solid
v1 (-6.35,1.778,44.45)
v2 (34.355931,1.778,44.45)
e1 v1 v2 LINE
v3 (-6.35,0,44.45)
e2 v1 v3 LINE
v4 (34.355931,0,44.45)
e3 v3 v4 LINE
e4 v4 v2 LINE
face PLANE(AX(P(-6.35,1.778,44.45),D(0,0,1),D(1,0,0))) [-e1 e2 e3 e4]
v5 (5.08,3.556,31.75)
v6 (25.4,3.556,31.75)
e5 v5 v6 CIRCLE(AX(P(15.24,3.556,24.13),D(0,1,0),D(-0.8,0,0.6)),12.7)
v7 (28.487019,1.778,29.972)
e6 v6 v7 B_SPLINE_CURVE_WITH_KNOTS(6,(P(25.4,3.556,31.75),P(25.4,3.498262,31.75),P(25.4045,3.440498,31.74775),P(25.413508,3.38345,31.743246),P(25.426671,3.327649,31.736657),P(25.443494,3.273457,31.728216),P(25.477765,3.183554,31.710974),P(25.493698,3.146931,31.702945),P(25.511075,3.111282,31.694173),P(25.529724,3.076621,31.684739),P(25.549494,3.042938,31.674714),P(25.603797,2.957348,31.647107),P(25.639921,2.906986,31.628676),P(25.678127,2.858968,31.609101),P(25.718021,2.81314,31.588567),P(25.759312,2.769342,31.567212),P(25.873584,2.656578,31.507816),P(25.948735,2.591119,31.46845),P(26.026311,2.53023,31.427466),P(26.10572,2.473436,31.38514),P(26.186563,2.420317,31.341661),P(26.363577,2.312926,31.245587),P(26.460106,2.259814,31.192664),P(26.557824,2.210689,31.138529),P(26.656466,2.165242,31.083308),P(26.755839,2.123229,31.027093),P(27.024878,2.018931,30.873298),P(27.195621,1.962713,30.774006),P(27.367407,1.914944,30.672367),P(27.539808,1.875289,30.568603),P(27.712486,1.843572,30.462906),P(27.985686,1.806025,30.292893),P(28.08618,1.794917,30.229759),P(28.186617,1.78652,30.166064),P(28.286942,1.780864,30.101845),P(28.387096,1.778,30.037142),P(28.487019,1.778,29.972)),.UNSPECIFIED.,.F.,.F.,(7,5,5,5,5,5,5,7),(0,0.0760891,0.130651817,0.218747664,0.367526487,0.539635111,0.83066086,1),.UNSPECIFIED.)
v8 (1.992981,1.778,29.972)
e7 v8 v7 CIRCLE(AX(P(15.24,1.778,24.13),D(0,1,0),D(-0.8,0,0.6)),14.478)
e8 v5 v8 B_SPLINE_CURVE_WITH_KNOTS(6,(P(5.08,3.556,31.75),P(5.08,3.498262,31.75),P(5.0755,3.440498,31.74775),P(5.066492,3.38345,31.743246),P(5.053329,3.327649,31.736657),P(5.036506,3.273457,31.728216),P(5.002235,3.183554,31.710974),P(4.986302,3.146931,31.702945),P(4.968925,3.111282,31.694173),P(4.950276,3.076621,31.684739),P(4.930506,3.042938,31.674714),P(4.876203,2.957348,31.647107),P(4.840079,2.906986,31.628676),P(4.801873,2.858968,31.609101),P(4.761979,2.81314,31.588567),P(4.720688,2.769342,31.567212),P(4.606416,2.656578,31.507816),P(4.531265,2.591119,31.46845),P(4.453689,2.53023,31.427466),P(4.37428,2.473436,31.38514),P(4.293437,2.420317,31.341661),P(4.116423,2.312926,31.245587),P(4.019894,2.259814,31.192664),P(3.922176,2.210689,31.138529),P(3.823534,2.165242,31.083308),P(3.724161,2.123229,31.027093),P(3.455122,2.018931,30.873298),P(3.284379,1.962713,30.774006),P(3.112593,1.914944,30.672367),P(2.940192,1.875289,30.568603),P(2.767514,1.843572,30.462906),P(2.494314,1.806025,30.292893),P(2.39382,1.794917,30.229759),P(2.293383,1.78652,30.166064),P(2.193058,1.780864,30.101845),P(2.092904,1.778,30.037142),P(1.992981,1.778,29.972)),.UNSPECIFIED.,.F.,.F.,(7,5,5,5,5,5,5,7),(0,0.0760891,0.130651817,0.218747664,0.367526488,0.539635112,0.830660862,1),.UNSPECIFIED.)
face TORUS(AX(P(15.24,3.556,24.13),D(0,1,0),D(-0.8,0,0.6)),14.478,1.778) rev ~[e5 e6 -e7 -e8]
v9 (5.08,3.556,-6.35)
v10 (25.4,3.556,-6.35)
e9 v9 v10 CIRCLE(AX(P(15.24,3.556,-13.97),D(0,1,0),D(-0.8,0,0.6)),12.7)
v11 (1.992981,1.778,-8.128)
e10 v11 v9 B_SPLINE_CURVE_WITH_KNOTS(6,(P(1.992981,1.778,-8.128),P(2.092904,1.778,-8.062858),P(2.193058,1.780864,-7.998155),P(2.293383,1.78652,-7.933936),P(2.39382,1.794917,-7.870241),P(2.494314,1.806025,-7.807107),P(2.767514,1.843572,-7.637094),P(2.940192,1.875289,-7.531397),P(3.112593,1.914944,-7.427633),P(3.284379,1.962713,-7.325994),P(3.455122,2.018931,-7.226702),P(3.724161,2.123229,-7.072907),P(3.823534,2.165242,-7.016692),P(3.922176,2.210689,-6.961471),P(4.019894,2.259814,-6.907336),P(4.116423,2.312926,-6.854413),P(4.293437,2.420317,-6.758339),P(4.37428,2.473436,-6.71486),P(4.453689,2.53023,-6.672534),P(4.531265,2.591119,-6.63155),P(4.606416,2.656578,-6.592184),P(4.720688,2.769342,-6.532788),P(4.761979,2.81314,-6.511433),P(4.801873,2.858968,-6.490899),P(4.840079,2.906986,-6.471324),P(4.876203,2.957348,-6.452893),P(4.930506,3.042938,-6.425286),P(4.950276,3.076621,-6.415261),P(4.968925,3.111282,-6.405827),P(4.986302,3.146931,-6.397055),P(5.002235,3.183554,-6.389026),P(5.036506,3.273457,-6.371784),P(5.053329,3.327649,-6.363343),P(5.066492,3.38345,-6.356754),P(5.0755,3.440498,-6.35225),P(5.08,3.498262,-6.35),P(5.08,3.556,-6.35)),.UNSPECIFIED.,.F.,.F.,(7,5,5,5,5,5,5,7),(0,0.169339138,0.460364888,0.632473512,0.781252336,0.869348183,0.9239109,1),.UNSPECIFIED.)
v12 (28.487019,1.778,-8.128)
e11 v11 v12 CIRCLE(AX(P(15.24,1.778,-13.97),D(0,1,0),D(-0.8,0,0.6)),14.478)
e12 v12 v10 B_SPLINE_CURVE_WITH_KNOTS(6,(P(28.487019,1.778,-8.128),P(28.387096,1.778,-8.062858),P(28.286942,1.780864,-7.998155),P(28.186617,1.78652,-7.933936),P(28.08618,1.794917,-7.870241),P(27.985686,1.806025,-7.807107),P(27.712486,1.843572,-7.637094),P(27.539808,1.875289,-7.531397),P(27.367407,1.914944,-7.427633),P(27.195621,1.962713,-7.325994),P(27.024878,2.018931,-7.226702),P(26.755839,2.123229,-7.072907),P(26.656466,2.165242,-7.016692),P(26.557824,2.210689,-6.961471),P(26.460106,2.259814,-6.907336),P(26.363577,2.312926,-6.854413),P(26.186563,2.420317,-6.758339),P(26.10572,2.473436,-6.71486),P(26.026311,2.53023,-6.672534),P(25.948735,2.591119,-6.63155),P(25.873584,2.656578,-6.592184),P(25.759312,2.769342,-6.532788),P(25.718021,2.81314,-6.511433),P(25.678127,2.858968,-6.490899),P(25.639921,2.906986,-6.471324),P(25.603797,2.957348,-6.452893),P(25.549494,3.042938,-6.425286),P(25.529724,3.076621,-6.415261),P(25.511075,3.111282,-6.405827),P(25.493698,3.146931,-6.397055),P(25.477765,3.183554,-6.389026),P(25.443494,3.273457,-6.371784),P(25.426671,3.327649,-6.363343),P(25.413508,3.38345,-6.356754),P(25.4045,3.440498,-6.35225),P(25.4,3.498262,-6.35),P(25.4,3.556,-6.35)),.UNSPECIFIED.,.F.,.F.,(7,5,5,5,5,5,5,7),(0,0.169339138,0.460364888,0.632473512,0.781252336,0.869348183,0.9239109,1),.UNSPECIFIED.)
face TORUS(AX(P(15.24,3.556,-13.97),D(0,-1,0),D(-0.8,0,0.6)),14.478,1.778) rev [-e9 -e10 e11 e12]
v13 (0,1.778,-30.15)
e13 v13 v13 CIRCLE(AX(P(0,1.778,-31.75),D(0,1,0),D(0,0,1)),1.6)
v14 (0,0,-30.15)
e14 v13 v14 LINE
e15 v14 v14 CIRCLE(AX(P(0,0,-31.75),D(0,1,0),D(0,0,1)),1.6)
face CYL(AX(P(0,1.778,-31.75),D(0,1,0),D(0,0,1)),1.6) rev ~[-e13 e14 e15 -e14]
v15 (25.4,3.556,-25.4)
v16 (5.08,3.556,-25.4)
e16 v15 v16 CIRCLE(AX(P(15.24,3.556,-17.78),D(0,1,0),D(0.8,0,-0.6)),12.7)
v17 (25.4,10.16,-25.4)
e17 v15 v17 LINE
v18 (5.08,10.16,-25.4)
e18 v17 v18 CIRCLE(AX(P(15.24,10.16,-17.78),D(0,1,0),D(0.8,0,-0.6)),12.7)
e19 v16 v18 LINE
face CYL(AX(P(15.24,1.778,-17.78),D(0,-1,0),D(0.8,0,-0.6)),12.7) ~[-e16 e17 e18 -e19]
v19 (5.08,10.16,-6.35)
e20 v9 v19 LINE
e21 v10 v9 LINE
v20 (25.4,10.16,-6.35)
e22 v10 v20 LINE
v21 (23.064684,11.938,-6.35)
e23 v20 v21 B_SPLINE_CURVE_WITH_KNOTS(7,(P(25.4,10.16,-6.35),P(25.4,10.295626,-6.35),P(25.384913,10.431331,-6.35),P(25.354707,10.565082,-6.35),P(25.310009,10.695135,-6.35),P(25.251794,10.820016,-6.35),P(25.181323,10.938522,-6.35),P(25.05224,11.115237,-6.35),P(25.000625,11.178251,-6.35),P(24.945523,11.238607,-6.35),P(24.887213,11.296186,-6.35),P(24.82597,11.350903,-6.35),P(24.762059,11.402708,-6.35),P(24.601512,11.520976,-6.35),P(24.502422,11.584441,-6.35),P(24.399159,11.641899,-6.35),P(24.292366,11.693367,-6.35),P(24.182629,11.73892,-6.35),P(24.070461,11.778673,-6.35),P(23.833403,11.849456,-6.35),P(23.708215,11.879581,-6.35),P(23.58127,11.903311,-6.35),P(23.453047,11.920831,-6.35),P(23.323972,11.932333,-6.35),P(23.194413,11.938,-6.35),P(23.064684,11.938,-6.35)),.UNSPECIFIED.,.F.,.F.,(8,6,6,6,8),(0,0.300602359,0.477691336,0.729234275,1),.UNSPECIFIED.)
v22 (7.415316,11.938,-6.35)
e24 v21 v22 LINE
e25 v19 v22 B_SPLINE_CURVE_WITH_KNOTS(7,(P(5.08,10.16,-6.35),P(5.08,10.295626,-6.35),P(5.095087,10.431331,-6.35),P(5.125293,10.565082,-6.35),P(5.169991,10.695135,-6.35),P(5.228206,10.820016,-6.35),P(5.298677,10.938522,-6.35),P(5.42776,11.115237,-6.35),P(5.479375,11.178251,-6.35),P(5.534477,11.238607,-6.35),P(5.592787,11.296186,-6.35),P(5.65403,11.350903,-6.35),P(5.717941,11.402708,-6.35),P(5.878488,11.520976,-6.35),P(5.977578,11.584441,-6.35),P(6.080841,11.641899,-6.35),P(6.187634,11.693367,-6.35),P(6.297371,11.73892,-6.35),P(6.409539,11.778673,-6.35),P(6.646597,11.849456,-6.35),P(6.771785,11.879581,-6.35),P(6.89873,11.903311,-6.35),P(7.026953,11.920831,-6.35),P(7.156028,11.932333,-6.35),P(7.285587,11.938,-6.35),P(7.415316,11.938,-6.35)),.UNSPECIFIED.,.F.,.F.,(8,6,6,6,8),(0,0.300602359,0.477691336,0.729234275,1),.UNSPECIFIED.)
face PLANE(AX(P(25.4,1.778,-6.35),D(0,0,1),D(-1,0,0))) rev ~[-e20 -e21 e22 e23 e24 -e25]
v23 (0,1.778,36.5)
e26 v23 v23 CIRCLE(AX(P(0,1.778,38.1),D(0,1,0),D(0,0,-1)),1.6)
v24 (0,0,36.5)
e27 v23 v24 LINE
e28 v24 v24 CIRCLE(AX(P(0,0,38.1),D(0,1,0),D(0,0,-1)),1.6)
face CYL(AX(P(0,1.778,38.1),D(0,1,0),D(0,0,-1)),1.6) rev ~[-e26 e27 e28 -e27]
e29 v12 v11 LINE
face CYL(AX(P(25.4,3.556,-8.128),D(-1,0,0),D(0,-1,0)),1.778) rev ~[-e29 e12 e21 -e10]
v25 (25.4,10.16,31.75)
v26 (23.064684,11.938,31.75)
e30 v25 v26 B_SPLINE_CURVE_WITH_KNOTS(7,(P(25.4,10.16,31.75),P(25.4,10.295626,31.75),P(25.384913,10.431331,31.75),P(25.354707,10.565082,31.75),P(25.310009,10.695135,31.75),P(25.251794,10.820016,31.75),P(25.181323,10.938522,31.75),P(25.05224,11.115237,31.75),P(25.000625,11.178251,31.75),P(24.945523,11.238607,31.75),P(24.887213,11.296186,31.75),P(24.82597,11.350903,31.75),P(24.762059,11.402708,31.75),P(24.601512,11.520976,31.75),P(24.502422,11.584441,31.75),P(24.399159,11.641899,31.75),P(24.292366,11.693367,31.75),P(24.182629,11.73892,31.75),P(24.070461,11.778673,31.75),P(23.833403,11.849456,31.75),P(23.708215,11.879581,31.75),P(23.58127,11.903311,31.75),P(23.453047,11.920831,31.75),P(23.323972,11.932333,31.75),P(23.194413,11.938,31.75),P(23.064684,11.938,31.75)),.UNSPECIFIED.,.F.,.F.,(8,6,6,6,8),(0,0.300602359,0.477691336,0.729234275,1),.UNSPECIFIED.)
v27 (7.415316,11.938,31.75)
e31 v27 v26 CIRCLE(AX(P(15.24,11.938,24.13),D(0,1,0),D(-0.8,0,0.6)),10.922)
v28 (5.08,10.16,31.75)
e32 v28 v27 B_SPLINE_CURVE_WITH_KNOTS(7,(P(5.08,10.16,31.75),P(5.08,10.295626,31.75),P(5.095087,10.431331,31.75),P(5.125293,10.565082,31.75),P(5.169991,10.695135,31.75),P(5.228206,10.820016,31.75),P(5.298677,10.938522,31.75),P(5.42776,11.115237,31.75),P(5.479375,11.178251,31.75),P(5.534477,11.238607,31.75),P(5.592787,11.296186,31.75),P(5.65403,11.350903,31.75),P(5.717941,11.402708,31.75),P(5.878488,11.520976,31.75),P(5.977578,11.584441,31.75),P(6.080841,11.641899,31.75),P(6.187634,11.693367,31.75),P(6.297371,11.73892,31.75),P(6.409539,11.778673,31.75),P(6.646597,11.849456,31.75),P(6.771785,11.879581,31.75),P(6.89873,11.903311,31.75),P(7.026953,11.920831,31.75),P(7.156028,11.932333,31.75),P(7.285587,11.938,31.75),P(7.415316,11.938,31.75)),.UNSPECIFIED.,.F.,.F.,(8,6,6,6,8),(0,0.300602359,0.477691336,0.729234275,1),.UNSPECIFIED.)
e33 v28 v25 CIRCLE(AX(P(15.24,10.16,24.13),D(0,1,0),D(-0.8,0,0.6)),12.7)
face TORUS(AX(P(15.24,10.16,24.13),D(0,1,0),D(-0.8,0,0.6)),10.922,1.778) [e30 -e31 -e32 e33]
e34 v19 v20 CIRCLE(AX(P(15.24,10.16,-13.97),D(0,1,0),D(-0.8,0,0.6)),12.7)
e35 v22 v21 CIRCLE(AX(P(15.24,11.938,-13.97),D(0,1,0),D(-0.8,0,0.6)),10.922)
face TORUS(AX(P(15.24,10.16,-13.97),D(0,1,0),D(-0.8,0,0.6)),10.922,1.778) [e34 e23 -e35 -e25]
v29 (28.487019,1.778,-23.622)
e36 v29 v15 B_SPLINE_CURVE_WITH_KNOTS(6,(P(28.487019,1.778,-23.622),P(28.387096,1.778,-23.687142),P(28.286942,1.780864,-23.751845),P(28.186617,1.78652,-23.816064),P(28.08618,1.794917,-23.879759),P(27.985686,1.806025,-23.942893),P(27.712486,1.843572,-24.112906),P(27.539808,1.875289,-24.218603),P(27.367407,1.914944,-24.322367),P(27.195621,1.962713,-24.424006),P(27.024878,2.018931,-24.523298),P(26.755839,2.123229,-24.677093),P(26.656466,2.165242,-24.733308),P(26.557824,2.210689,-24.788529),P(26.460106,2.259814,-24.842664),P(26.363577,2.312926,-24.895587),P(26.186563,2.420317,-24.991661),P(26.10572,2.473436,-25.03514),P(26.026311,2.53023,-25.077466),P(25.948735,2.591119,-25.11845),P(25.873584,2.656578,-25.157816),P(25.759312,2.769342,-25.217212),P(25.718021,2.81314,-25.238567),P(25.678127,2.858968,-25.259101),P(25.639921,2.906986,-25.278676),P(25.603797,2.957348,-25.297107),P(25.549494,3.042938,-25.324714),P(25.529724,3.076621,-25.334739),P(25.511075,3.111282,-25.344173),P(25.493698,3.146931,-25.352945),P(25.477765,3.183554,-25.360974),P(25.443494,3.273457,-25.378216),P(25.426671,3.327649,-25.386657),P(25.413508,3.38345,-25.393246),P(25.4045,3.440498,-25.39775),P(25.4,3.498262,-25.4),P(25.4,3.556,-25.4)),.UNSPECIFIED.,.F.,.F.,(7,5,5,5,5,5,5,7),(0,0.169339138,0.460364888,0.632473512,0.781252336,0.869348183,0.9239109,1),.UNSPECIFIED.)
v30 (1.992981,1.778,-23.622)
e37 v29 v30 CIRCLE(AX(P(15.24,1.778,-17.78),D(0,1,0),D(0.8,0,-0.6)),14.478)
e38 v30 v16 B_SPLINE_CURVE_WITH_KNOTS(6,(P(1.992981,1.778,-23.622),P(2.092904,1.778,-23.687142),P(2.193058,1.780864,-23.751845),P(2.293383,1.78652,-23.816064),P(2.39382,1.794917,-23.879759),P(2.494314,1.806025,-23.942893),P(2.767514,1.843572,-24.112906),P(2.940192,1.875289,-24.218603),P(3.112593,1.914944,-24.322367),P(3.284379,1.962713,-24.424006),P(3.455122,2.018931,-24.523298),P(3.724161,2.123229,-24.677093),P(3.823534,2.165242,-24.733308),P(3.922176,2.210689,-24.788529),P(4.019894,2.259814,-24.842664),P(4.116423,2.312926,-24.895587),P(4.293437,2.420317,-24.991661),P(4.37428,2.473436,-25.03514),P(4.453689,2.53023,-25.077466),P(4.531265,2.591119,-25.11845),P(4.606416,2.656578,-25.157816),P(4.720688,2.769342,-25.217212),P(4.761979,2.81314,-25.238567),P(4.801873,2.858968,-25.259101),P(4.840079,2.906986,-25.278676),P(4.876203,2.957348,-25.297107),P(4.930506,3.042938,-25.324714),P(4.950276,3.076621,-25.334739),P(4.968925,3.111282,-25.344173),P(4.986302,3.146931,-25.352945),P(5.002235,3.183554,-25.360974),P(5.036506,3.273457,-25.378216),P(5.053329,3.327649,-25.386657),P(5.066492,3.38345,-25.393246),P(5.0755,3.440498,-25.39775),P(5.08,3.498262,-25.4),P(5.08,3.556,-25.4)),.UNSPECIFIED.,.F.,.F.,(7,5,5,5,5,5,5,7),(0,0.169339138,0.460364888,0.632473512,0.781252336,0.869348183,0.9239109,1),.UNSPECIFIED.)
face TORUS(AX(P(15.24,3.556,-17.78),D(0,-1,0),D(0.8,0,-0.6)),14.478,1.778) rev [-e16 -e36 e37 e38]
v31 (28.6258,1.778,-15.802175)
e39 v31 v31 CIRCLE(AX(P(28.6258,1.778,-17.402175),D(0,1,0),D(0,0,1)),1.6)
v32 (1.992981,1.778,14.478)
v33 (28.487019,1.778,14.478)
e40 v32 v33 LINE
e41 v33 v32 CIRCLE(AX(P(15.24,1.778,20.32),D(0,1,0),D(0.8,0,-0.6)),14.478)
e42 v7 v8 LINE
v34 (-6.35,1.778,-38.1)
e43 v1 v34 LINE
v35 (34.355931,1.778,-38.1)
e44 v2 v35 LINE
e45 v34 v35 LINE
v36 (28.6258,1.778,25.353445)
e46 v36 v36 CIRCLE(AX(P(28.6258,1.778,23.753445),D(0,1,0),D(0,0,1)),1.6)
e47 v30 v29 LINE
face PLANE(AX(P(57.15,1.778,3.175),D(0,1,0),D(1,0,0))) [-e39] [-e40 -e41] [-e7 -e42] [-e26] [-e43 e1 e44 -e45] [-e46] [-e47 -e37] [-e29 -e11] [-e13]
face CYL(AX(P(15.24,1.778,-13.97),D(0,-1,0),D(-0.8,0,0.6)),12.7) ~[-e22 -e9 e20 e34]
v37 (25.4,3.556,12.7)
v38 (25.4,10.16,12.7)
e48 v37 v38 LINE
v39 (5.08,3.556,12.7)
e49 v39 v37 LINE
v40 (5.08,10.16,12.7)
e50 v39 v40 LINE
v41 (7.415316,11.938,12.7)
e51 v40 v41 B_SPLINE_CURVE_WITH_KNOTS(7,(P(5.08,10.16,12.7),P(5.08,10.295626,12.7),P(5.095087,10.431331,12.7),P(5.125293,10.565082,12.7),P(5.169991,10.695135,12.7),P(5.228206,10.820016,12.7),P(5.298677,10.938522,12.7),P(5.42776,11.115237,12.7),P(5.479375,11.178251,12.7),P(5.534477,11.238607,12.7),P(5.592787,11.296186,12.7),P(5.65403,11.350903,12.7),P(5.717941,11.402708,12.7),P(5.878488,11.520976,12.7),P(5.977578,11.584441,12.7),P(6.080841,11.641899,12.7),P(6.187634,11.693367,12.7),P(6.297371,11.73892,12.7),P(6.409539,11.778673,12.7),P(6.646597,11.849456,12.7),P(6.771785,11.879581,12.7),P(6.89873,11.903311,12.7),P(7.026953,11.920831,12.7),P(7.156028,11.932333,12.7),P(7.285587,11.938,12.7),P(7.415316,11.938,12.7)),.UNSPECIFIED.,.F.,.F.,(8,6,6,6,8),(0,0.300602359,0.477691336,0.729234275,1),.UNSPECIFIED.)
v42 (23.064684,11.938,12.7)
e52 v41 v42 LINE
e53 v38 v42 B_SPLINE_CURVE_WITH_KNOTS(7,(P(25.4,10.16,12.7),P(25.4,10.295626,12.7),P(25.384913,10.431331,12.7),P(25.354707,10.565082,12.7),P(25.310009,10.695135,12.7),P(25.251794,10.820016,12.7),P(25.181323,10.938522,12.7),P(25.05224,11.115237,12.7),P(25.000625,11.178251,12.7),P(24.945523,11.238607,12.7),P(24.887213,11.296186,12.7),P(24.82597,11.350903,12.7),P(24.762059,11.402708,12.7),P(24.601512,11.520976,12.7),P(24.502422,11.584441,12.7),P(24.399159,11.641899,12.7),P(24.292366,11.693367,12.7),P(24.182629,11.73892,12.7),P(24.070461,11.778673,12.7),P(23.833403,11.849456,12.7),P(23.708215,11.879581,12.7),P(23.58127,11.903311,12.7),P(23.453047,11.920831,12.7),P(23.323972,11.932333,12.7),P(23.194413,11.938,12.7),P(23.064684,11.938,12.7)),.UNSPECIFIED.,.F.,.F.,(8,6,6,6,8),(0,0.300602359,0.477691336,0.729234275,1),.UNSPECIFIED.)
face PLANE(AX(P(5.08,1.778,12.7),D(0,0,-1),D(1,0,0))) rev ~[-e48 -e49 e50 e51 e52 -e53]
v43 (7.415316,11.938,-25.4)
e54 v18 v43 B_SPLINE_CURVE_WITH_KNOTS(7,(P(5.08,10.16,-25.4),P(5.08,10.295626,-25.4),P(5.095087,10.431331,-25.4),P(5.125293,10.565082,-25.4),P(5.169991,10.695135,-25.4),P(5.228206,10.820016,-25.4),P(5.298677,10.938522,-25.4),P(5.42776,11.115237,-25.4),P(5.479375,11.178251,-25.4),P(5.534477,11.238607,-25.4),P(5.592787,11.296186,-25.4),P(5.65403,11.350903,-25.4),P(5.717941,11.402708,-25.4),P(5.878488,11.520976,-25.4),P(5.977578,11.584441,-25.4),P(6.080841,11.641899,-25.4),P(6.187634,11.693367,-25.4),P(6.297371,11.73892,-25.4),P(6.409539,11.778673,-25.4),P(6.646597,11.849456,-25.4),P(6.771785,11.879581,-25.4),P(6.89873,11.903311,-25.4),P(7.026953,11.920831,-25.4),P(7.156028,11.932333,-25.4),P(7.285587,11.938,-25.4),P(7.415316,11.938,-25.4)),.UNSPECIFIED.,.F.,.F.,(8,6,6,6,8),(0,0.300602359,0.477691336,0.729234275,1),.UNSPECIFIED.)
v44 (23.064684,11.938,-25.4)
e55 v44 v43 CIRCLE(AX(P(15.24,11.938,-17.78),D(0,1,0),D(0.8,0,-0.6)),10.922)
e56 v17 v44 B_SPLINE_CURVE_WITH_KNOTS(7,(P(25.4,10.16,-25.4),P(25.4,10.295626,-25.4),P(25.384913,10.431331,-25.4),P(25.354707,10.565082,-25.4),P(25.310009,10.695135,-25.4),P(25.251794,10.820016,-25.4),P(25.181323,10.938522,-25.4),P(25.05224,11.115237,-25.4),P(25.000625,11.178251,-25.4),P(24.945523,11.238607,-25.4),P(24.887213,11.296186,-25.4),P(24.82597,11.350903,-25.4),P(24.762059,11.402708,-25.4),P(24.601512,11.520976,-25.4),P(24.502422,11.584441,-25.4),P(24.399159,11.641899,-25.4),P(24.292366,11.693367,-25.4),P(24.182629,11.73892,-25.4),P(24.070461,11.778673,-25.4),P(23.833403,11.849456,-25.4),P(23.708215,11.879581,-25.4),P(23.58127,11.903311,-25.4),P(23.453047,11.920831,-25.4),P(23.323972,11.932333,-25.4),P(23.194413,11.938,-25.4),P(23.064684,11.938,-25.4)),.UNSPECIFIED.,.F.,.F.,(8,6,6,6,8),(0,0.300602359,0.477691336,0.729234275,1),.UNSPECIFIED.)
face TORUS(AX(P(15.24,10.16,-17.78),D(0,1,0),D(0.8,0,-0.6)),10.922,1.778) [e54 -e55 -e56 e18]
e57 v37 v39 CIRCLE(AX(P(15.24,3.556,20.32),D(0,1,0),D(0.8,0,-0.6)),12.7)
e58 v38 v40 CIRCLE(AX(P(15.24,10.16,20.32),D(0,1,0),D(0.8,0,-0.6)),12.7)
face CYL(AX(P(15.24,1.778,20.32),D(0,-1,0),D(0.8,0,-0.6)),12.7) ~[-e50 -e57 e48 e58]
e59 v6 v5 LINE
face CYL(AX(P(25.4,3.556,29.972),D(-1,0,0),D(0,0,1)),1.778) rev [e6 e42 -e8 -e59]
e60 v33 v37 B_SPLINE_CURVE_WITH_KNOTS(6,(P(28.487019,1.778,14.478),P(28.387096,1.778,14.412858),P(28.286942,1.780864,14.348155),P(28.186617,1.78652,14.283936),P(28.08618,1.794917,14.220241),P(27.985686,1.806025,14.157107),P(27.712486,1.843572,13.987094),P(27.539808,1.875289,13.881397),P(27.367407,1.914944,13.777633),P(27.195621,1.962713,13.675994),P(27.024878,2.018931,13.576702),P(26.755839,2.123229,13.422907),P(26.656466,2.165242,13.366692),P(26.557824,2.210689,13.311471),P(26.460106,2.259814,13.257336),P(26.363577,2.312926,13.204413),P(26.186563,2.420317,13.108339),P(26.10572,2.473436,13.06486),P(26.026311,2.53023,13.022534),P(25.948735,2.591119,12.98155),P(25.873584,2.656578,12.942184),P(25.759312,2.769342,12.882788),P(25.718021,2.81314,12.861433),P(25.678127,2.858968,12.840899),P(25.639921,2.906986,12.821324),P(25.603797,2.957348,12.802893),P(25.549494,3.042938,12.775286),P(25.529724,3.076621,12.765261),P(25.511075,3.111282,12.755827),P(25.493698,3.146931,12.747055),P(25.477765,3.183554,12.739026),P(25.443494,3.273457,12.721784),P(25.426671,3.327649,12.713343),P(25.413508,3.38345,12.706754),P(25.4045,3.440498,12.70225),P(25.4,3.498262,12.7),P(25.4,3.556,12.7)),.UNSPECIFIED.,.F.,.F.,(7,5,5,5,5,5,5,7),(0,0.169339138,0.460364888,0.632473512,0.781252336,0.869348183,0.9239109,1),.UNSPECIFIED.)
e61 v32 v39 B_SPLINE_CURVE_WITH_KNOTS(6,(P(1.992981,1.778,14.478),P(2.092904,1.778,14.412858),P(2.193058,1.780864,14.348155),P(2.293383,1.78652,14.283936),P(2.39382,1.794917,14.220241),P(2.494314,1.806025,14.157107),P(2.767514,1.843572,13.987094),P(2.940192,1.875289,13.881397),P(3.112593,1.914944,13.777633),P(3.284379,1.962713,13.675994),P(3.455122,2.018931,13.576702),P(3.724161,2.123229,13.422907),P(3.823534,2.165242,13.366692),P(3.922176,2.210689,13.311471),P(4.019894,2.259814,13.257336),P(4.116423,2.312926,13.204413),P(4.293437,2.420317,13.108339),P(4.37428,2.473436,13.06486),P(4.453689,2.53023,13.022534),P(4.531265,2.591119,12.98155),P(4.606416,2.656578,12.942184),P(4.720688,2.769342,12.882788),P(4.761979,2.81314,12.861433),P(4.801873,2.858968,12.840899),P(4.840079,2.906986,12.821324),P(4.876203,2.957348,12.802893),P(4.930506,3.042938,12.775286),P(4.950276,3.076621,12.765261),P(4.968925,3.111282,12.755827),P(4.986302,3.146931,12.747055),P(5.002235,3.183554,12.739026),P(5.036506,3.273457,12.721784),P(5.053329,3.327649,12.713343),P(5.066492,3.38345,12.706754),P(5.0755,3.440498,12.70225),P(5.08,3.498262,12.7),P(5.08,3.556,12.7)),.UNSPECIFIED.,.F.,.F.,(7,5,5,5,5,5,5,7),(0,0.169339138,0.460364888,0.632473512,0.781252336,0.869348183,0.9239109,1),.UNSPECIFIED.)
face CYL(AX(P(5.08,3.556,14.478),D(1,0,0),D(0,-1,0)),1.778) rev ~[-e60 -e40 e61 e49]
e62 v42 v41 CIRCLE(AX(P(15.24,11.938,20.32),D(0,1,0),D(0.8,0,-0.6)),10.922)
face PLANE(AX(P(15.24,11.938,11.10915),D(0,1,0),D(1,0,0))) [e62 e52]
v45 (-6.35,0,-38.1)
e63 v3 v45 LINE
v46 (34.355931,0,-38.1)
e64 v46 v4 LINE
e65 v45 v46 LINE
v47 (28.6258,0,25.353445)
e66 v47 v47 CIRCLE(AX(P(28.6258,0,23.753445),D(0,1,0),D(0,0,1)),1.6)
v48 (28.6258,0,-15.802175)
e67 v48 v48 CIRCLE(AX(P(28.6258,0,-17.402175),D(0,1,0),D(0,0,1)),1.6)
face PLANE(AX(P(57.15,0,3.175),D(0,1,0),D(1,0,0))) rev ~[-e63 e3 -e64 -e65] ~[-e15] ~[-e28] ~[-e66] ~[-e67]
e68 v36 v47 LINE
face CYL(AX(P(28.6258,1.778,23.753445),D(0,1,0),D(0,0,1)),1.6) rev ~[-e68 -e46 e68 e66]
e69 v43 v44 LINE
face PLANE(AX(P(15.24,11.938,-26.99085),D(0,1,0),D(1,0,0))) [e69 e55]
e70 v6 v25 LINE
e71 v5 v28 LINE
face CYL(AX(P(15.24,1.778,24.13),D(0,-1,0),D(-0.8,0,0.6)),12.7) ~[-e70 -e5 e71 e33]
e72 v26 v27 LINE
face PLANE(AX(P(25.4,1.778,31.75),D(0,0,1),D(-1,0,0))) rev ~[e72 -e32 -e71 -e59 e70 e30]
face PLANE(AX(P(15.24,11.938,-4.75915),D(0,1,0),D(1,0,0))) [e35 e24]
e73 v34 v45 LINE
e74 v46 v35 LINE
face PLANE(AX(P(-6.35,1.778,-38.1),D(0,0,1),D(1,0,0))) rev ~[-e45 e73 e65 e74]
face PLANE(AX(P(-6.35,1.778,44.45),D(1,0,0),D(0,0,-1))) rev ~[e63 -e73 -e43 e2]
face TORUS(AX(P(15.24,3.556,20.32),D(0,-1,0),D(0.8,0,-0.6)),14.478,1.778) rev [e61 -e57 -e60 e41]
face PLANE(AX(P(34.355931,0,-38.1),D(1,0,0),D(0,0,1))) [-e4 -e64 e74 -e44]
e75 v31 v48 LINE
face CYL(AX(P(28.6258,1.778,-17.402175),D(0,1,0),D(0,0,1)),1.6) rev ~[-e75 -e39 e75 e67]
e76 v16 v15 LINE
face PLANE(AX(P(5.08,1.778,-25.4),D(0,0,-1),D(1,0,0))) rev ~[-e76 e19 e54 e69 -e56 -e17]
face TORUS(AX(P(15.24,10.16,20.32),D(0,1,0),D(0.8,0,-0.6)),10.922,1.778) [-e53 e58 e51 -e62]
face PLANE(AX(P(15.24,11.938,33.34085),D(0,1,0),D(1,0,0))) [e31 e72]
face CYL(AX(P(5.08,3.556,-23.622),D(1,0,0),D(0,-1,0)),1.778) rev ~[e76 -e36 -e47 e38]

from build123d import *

# Parameters (mm, degrees)
SKETCH1_W            = 30.48
SKETCH1_H            = 31.75
BOSS_EXTRUDE1_DEPTH  = 1.778
BOSS_EXTRUDE2_DEPTH  = 10.16
SKETCH4_W            = 127
SKETCH4_H            = 82.55
SKETCH4_W_2          = 30.48
SKETCH4_H_2          = 31.75
BOSS_EXTRUDE3_DEPTH  = 1.778
LPATTERN1_COUNT      = 2
LPATTERN1_PITCH      = 83.82
LPATTERN1_COUNT_DIR2 = 2
LPATTERN1_PITCH_DIR2 = 38.1
BOSS_EXTRUDE4_DEPTH  = 10.16
FILLET2_R            = 1.778
FILLET3_R            = 1.778
SKETCH6_R            = 1.6
CUT_EXTRUDE1_DEPTH   = 129.978488912
SKETCH7_R            = 1.6
CUT_EXTRUDE2_DEPTH   = 129.978488912
SKETCH8_W            = 86.294069194
SKETCH8_H            = 82.55
CUT_EXTRUDE3_DEPTH   = 130.130712251


with BuildPart() as part:
    # Sketch1 → Boss-Extrude1 (new body)
    with BuildSketch(Plane(origin=(0, 0, 0), x_dir=(1, 0, 0), z_dir=(0, 1, 0))):
        with Locations((15.24, 15.875)):
            Rectangle(SKETCH1_W, SKETCH1_H)
    extrude(amount=BOSS_EXTRUDE1_DEPTH)

    # Sketch2 → Boss-Extrude2 (add)
    with BuildSketch(Plane(origin=(0, 1.778, 0), x_dir=(1, 0, 0), z_dir=(0, 1, 0))):
        with BuildLine():
            ThreePointArc((25.4, 25.4), (15.24, 30.48), (5.08, 25.4))
            Line((5.08, 25.4), (25.4, 25.4))
        make_face()
        with BuildLine():
            Line((25.4, 6.35), (5.08, 6.35))
            ThreePointArc((5.08, 6.35), (15.24, 1.27), (25.4, 6.35))
        make_face()
    boss_extrude2 = extrude(amount=BOSS_EXTRUDE2_DEPTH)

    # Sketch4 → Boss-Extrude3 (add)
    with BuildSketch(Plane(origin=(0, 1.778, 0), x_dir=(1, 0, 0), z_dir=(0, 1, 0))):
        with Locations((57.15, -3.175)):
            Rectangle(SKETCH4_W, SKETCH4_H)
        with Locations((15.24, 15.875)):
            Rectangle(SKETCH4_W_2, SKETCH4_H_2, mode=Mode.SUBTRACT)
    extrude(amount=-BOSS_EXTRUDE3_DEPTH)

    # LPattern1: Boss-Extrude2 2 × 2
    with Locations(*[(i * LPATTERN1_PITCH, 0, j * LPATTERN1_PITCH_DIR2) for i in range(LPATTERN1_COUNT) for j in range(LPATTERN1_COUNT_DIR2) if (i, j) != (0, 0)]):
        add(boss_extrude2)

    # Sketch5 → Boss-Extrude4 (add)
    with BuildSketch(Plane(origin=(0, 1.778, 0), x_dir=(1, 0, 0), z_dir=(0, 1, 0))):
        with BuildLine():
            ThreePointArc((47.625, -12.7), (42.545, -22.86), (47.625, -33.02))
            Line((47.625, -33.02), (47.625, -12.7))
        make_face()
        with BuildLine():
            Line((66.675, -12.7), (66.675, -33.02))
            ThreePointArc((66.675, -33.02), (71.755, -22.86), (66.675, -12.7))
        make_face()
    extrude(amount=BOSS_EXTRUDE4_DEPTH)

    # Fillet2
    fillet2_edges = [part.edges().sort_by_distance(p)[0] for p in [
        (15.24, 11.938, -1.27),
        (15.24, 11.938, -30.48),
        (99.06, 11.938, -30.48),
        (99.06, 11.938, -1.27),
        (99.06, 11.938, 7.62),
        (99.06, 11.938, 36.83),
        (42.545, 11.938, 22.86),
        (71.755, 11.938, 22.86),
        (15.24, 11.938, 36.83),
        (15.24, 11.938, 7.62),
    ]]
    fillet(fillet2_edges, radius=FILLET2_R)

    # Fillet3
    fillet3_edges = [part.edges().sort_by_distance(p)[0] for p in [
        (99.06, 1.778, -30.48),
        (99.06, 1.778, -6.35),
        (99.06, 1.778, 7.62),
        (99.06, 1.778, 31.75),
        (99.06, 1.778, -25.4),
        (99.06, 1.778, -1.27),
        (99.06, 1.778, 12.7),
        (99.06, 1.778, 36.83),
        (47.625, 1.778, 22.86),
        (71.755, 1.778, 22.86),
        (15.24, 1.778, 31.75),
        (15.24, 1.778, 36.83),
        (66.675, 1.778, 22.86),
        (42.545, 1.778, 22.86),
        (15.24, 1.778, -6.35),
        (15.24, 1.778, 7.62),
        (15.24, 1.778, 12.7),
        (15.24, 1.778, -1.27),
        (15.24, 1.778, -30.48),
        (15.24, 1.778, -25.4),
    ]]
    fillet(fillet3_edges, radius=FILLET3_R)

    # Sketch6 → Cut-Extrude1 (cut, through all)
    with BuildSketch(Plane(origin=(0, 1.778, 0), x_dir=(1, 0, 0), z_dir=(0, 1, 0))):
        with Locations((85.6742, 17.402175)):
            Circle(SKETCH6_R)
        with Locations((28.6258, 17.402175)):
            Circle(SKETCH6_R)
        with Locations((28.6258, -23.753445)):
            Circle(SKETCH6_R)
        with Locations((85.6742, -23.753445)):
            Circle(SKETCH6_R)
    extrude(amount=-CUT_EXTRUDE1_DEPTH, mode=Mode.SUBTRACT)

    # Sketch7 → Cut-Extrude2 (cut, through all)
    with BuildSketch(Plane(origin=(0, 1.778, 0), x_dir=(1, 0, 0), z_dir=(0, 1, 0))):
        with Locations((0, 31.75)):
            Circle(SKETCH7_R)
        with Locations((114.3, 31.75)):
            Circle(SKETCH7_R)
        with Locations((114.3, -38.1)):
            Circle(SKETCH7_R)
        with Locations((0, -38.1)):
            Circle(SKETCH7_R)
    extrude(amount=-CUT_EXTRUDE2_DEPTH, mode=Mode.SUBTRACT)

    # Sketch8 → Cut-Extrude3 (cut, through all)
    with BuildSketch(Plane.XZ):
        with Locations((77.502965403, 3.175)):
            Rectangle(SKETCH8_W, SKETCH8_H)
    extrude(amount=-CUT_EXTRUDE3_DEPTH, mode=Mode.SUBTRACT)


solid = part.part
